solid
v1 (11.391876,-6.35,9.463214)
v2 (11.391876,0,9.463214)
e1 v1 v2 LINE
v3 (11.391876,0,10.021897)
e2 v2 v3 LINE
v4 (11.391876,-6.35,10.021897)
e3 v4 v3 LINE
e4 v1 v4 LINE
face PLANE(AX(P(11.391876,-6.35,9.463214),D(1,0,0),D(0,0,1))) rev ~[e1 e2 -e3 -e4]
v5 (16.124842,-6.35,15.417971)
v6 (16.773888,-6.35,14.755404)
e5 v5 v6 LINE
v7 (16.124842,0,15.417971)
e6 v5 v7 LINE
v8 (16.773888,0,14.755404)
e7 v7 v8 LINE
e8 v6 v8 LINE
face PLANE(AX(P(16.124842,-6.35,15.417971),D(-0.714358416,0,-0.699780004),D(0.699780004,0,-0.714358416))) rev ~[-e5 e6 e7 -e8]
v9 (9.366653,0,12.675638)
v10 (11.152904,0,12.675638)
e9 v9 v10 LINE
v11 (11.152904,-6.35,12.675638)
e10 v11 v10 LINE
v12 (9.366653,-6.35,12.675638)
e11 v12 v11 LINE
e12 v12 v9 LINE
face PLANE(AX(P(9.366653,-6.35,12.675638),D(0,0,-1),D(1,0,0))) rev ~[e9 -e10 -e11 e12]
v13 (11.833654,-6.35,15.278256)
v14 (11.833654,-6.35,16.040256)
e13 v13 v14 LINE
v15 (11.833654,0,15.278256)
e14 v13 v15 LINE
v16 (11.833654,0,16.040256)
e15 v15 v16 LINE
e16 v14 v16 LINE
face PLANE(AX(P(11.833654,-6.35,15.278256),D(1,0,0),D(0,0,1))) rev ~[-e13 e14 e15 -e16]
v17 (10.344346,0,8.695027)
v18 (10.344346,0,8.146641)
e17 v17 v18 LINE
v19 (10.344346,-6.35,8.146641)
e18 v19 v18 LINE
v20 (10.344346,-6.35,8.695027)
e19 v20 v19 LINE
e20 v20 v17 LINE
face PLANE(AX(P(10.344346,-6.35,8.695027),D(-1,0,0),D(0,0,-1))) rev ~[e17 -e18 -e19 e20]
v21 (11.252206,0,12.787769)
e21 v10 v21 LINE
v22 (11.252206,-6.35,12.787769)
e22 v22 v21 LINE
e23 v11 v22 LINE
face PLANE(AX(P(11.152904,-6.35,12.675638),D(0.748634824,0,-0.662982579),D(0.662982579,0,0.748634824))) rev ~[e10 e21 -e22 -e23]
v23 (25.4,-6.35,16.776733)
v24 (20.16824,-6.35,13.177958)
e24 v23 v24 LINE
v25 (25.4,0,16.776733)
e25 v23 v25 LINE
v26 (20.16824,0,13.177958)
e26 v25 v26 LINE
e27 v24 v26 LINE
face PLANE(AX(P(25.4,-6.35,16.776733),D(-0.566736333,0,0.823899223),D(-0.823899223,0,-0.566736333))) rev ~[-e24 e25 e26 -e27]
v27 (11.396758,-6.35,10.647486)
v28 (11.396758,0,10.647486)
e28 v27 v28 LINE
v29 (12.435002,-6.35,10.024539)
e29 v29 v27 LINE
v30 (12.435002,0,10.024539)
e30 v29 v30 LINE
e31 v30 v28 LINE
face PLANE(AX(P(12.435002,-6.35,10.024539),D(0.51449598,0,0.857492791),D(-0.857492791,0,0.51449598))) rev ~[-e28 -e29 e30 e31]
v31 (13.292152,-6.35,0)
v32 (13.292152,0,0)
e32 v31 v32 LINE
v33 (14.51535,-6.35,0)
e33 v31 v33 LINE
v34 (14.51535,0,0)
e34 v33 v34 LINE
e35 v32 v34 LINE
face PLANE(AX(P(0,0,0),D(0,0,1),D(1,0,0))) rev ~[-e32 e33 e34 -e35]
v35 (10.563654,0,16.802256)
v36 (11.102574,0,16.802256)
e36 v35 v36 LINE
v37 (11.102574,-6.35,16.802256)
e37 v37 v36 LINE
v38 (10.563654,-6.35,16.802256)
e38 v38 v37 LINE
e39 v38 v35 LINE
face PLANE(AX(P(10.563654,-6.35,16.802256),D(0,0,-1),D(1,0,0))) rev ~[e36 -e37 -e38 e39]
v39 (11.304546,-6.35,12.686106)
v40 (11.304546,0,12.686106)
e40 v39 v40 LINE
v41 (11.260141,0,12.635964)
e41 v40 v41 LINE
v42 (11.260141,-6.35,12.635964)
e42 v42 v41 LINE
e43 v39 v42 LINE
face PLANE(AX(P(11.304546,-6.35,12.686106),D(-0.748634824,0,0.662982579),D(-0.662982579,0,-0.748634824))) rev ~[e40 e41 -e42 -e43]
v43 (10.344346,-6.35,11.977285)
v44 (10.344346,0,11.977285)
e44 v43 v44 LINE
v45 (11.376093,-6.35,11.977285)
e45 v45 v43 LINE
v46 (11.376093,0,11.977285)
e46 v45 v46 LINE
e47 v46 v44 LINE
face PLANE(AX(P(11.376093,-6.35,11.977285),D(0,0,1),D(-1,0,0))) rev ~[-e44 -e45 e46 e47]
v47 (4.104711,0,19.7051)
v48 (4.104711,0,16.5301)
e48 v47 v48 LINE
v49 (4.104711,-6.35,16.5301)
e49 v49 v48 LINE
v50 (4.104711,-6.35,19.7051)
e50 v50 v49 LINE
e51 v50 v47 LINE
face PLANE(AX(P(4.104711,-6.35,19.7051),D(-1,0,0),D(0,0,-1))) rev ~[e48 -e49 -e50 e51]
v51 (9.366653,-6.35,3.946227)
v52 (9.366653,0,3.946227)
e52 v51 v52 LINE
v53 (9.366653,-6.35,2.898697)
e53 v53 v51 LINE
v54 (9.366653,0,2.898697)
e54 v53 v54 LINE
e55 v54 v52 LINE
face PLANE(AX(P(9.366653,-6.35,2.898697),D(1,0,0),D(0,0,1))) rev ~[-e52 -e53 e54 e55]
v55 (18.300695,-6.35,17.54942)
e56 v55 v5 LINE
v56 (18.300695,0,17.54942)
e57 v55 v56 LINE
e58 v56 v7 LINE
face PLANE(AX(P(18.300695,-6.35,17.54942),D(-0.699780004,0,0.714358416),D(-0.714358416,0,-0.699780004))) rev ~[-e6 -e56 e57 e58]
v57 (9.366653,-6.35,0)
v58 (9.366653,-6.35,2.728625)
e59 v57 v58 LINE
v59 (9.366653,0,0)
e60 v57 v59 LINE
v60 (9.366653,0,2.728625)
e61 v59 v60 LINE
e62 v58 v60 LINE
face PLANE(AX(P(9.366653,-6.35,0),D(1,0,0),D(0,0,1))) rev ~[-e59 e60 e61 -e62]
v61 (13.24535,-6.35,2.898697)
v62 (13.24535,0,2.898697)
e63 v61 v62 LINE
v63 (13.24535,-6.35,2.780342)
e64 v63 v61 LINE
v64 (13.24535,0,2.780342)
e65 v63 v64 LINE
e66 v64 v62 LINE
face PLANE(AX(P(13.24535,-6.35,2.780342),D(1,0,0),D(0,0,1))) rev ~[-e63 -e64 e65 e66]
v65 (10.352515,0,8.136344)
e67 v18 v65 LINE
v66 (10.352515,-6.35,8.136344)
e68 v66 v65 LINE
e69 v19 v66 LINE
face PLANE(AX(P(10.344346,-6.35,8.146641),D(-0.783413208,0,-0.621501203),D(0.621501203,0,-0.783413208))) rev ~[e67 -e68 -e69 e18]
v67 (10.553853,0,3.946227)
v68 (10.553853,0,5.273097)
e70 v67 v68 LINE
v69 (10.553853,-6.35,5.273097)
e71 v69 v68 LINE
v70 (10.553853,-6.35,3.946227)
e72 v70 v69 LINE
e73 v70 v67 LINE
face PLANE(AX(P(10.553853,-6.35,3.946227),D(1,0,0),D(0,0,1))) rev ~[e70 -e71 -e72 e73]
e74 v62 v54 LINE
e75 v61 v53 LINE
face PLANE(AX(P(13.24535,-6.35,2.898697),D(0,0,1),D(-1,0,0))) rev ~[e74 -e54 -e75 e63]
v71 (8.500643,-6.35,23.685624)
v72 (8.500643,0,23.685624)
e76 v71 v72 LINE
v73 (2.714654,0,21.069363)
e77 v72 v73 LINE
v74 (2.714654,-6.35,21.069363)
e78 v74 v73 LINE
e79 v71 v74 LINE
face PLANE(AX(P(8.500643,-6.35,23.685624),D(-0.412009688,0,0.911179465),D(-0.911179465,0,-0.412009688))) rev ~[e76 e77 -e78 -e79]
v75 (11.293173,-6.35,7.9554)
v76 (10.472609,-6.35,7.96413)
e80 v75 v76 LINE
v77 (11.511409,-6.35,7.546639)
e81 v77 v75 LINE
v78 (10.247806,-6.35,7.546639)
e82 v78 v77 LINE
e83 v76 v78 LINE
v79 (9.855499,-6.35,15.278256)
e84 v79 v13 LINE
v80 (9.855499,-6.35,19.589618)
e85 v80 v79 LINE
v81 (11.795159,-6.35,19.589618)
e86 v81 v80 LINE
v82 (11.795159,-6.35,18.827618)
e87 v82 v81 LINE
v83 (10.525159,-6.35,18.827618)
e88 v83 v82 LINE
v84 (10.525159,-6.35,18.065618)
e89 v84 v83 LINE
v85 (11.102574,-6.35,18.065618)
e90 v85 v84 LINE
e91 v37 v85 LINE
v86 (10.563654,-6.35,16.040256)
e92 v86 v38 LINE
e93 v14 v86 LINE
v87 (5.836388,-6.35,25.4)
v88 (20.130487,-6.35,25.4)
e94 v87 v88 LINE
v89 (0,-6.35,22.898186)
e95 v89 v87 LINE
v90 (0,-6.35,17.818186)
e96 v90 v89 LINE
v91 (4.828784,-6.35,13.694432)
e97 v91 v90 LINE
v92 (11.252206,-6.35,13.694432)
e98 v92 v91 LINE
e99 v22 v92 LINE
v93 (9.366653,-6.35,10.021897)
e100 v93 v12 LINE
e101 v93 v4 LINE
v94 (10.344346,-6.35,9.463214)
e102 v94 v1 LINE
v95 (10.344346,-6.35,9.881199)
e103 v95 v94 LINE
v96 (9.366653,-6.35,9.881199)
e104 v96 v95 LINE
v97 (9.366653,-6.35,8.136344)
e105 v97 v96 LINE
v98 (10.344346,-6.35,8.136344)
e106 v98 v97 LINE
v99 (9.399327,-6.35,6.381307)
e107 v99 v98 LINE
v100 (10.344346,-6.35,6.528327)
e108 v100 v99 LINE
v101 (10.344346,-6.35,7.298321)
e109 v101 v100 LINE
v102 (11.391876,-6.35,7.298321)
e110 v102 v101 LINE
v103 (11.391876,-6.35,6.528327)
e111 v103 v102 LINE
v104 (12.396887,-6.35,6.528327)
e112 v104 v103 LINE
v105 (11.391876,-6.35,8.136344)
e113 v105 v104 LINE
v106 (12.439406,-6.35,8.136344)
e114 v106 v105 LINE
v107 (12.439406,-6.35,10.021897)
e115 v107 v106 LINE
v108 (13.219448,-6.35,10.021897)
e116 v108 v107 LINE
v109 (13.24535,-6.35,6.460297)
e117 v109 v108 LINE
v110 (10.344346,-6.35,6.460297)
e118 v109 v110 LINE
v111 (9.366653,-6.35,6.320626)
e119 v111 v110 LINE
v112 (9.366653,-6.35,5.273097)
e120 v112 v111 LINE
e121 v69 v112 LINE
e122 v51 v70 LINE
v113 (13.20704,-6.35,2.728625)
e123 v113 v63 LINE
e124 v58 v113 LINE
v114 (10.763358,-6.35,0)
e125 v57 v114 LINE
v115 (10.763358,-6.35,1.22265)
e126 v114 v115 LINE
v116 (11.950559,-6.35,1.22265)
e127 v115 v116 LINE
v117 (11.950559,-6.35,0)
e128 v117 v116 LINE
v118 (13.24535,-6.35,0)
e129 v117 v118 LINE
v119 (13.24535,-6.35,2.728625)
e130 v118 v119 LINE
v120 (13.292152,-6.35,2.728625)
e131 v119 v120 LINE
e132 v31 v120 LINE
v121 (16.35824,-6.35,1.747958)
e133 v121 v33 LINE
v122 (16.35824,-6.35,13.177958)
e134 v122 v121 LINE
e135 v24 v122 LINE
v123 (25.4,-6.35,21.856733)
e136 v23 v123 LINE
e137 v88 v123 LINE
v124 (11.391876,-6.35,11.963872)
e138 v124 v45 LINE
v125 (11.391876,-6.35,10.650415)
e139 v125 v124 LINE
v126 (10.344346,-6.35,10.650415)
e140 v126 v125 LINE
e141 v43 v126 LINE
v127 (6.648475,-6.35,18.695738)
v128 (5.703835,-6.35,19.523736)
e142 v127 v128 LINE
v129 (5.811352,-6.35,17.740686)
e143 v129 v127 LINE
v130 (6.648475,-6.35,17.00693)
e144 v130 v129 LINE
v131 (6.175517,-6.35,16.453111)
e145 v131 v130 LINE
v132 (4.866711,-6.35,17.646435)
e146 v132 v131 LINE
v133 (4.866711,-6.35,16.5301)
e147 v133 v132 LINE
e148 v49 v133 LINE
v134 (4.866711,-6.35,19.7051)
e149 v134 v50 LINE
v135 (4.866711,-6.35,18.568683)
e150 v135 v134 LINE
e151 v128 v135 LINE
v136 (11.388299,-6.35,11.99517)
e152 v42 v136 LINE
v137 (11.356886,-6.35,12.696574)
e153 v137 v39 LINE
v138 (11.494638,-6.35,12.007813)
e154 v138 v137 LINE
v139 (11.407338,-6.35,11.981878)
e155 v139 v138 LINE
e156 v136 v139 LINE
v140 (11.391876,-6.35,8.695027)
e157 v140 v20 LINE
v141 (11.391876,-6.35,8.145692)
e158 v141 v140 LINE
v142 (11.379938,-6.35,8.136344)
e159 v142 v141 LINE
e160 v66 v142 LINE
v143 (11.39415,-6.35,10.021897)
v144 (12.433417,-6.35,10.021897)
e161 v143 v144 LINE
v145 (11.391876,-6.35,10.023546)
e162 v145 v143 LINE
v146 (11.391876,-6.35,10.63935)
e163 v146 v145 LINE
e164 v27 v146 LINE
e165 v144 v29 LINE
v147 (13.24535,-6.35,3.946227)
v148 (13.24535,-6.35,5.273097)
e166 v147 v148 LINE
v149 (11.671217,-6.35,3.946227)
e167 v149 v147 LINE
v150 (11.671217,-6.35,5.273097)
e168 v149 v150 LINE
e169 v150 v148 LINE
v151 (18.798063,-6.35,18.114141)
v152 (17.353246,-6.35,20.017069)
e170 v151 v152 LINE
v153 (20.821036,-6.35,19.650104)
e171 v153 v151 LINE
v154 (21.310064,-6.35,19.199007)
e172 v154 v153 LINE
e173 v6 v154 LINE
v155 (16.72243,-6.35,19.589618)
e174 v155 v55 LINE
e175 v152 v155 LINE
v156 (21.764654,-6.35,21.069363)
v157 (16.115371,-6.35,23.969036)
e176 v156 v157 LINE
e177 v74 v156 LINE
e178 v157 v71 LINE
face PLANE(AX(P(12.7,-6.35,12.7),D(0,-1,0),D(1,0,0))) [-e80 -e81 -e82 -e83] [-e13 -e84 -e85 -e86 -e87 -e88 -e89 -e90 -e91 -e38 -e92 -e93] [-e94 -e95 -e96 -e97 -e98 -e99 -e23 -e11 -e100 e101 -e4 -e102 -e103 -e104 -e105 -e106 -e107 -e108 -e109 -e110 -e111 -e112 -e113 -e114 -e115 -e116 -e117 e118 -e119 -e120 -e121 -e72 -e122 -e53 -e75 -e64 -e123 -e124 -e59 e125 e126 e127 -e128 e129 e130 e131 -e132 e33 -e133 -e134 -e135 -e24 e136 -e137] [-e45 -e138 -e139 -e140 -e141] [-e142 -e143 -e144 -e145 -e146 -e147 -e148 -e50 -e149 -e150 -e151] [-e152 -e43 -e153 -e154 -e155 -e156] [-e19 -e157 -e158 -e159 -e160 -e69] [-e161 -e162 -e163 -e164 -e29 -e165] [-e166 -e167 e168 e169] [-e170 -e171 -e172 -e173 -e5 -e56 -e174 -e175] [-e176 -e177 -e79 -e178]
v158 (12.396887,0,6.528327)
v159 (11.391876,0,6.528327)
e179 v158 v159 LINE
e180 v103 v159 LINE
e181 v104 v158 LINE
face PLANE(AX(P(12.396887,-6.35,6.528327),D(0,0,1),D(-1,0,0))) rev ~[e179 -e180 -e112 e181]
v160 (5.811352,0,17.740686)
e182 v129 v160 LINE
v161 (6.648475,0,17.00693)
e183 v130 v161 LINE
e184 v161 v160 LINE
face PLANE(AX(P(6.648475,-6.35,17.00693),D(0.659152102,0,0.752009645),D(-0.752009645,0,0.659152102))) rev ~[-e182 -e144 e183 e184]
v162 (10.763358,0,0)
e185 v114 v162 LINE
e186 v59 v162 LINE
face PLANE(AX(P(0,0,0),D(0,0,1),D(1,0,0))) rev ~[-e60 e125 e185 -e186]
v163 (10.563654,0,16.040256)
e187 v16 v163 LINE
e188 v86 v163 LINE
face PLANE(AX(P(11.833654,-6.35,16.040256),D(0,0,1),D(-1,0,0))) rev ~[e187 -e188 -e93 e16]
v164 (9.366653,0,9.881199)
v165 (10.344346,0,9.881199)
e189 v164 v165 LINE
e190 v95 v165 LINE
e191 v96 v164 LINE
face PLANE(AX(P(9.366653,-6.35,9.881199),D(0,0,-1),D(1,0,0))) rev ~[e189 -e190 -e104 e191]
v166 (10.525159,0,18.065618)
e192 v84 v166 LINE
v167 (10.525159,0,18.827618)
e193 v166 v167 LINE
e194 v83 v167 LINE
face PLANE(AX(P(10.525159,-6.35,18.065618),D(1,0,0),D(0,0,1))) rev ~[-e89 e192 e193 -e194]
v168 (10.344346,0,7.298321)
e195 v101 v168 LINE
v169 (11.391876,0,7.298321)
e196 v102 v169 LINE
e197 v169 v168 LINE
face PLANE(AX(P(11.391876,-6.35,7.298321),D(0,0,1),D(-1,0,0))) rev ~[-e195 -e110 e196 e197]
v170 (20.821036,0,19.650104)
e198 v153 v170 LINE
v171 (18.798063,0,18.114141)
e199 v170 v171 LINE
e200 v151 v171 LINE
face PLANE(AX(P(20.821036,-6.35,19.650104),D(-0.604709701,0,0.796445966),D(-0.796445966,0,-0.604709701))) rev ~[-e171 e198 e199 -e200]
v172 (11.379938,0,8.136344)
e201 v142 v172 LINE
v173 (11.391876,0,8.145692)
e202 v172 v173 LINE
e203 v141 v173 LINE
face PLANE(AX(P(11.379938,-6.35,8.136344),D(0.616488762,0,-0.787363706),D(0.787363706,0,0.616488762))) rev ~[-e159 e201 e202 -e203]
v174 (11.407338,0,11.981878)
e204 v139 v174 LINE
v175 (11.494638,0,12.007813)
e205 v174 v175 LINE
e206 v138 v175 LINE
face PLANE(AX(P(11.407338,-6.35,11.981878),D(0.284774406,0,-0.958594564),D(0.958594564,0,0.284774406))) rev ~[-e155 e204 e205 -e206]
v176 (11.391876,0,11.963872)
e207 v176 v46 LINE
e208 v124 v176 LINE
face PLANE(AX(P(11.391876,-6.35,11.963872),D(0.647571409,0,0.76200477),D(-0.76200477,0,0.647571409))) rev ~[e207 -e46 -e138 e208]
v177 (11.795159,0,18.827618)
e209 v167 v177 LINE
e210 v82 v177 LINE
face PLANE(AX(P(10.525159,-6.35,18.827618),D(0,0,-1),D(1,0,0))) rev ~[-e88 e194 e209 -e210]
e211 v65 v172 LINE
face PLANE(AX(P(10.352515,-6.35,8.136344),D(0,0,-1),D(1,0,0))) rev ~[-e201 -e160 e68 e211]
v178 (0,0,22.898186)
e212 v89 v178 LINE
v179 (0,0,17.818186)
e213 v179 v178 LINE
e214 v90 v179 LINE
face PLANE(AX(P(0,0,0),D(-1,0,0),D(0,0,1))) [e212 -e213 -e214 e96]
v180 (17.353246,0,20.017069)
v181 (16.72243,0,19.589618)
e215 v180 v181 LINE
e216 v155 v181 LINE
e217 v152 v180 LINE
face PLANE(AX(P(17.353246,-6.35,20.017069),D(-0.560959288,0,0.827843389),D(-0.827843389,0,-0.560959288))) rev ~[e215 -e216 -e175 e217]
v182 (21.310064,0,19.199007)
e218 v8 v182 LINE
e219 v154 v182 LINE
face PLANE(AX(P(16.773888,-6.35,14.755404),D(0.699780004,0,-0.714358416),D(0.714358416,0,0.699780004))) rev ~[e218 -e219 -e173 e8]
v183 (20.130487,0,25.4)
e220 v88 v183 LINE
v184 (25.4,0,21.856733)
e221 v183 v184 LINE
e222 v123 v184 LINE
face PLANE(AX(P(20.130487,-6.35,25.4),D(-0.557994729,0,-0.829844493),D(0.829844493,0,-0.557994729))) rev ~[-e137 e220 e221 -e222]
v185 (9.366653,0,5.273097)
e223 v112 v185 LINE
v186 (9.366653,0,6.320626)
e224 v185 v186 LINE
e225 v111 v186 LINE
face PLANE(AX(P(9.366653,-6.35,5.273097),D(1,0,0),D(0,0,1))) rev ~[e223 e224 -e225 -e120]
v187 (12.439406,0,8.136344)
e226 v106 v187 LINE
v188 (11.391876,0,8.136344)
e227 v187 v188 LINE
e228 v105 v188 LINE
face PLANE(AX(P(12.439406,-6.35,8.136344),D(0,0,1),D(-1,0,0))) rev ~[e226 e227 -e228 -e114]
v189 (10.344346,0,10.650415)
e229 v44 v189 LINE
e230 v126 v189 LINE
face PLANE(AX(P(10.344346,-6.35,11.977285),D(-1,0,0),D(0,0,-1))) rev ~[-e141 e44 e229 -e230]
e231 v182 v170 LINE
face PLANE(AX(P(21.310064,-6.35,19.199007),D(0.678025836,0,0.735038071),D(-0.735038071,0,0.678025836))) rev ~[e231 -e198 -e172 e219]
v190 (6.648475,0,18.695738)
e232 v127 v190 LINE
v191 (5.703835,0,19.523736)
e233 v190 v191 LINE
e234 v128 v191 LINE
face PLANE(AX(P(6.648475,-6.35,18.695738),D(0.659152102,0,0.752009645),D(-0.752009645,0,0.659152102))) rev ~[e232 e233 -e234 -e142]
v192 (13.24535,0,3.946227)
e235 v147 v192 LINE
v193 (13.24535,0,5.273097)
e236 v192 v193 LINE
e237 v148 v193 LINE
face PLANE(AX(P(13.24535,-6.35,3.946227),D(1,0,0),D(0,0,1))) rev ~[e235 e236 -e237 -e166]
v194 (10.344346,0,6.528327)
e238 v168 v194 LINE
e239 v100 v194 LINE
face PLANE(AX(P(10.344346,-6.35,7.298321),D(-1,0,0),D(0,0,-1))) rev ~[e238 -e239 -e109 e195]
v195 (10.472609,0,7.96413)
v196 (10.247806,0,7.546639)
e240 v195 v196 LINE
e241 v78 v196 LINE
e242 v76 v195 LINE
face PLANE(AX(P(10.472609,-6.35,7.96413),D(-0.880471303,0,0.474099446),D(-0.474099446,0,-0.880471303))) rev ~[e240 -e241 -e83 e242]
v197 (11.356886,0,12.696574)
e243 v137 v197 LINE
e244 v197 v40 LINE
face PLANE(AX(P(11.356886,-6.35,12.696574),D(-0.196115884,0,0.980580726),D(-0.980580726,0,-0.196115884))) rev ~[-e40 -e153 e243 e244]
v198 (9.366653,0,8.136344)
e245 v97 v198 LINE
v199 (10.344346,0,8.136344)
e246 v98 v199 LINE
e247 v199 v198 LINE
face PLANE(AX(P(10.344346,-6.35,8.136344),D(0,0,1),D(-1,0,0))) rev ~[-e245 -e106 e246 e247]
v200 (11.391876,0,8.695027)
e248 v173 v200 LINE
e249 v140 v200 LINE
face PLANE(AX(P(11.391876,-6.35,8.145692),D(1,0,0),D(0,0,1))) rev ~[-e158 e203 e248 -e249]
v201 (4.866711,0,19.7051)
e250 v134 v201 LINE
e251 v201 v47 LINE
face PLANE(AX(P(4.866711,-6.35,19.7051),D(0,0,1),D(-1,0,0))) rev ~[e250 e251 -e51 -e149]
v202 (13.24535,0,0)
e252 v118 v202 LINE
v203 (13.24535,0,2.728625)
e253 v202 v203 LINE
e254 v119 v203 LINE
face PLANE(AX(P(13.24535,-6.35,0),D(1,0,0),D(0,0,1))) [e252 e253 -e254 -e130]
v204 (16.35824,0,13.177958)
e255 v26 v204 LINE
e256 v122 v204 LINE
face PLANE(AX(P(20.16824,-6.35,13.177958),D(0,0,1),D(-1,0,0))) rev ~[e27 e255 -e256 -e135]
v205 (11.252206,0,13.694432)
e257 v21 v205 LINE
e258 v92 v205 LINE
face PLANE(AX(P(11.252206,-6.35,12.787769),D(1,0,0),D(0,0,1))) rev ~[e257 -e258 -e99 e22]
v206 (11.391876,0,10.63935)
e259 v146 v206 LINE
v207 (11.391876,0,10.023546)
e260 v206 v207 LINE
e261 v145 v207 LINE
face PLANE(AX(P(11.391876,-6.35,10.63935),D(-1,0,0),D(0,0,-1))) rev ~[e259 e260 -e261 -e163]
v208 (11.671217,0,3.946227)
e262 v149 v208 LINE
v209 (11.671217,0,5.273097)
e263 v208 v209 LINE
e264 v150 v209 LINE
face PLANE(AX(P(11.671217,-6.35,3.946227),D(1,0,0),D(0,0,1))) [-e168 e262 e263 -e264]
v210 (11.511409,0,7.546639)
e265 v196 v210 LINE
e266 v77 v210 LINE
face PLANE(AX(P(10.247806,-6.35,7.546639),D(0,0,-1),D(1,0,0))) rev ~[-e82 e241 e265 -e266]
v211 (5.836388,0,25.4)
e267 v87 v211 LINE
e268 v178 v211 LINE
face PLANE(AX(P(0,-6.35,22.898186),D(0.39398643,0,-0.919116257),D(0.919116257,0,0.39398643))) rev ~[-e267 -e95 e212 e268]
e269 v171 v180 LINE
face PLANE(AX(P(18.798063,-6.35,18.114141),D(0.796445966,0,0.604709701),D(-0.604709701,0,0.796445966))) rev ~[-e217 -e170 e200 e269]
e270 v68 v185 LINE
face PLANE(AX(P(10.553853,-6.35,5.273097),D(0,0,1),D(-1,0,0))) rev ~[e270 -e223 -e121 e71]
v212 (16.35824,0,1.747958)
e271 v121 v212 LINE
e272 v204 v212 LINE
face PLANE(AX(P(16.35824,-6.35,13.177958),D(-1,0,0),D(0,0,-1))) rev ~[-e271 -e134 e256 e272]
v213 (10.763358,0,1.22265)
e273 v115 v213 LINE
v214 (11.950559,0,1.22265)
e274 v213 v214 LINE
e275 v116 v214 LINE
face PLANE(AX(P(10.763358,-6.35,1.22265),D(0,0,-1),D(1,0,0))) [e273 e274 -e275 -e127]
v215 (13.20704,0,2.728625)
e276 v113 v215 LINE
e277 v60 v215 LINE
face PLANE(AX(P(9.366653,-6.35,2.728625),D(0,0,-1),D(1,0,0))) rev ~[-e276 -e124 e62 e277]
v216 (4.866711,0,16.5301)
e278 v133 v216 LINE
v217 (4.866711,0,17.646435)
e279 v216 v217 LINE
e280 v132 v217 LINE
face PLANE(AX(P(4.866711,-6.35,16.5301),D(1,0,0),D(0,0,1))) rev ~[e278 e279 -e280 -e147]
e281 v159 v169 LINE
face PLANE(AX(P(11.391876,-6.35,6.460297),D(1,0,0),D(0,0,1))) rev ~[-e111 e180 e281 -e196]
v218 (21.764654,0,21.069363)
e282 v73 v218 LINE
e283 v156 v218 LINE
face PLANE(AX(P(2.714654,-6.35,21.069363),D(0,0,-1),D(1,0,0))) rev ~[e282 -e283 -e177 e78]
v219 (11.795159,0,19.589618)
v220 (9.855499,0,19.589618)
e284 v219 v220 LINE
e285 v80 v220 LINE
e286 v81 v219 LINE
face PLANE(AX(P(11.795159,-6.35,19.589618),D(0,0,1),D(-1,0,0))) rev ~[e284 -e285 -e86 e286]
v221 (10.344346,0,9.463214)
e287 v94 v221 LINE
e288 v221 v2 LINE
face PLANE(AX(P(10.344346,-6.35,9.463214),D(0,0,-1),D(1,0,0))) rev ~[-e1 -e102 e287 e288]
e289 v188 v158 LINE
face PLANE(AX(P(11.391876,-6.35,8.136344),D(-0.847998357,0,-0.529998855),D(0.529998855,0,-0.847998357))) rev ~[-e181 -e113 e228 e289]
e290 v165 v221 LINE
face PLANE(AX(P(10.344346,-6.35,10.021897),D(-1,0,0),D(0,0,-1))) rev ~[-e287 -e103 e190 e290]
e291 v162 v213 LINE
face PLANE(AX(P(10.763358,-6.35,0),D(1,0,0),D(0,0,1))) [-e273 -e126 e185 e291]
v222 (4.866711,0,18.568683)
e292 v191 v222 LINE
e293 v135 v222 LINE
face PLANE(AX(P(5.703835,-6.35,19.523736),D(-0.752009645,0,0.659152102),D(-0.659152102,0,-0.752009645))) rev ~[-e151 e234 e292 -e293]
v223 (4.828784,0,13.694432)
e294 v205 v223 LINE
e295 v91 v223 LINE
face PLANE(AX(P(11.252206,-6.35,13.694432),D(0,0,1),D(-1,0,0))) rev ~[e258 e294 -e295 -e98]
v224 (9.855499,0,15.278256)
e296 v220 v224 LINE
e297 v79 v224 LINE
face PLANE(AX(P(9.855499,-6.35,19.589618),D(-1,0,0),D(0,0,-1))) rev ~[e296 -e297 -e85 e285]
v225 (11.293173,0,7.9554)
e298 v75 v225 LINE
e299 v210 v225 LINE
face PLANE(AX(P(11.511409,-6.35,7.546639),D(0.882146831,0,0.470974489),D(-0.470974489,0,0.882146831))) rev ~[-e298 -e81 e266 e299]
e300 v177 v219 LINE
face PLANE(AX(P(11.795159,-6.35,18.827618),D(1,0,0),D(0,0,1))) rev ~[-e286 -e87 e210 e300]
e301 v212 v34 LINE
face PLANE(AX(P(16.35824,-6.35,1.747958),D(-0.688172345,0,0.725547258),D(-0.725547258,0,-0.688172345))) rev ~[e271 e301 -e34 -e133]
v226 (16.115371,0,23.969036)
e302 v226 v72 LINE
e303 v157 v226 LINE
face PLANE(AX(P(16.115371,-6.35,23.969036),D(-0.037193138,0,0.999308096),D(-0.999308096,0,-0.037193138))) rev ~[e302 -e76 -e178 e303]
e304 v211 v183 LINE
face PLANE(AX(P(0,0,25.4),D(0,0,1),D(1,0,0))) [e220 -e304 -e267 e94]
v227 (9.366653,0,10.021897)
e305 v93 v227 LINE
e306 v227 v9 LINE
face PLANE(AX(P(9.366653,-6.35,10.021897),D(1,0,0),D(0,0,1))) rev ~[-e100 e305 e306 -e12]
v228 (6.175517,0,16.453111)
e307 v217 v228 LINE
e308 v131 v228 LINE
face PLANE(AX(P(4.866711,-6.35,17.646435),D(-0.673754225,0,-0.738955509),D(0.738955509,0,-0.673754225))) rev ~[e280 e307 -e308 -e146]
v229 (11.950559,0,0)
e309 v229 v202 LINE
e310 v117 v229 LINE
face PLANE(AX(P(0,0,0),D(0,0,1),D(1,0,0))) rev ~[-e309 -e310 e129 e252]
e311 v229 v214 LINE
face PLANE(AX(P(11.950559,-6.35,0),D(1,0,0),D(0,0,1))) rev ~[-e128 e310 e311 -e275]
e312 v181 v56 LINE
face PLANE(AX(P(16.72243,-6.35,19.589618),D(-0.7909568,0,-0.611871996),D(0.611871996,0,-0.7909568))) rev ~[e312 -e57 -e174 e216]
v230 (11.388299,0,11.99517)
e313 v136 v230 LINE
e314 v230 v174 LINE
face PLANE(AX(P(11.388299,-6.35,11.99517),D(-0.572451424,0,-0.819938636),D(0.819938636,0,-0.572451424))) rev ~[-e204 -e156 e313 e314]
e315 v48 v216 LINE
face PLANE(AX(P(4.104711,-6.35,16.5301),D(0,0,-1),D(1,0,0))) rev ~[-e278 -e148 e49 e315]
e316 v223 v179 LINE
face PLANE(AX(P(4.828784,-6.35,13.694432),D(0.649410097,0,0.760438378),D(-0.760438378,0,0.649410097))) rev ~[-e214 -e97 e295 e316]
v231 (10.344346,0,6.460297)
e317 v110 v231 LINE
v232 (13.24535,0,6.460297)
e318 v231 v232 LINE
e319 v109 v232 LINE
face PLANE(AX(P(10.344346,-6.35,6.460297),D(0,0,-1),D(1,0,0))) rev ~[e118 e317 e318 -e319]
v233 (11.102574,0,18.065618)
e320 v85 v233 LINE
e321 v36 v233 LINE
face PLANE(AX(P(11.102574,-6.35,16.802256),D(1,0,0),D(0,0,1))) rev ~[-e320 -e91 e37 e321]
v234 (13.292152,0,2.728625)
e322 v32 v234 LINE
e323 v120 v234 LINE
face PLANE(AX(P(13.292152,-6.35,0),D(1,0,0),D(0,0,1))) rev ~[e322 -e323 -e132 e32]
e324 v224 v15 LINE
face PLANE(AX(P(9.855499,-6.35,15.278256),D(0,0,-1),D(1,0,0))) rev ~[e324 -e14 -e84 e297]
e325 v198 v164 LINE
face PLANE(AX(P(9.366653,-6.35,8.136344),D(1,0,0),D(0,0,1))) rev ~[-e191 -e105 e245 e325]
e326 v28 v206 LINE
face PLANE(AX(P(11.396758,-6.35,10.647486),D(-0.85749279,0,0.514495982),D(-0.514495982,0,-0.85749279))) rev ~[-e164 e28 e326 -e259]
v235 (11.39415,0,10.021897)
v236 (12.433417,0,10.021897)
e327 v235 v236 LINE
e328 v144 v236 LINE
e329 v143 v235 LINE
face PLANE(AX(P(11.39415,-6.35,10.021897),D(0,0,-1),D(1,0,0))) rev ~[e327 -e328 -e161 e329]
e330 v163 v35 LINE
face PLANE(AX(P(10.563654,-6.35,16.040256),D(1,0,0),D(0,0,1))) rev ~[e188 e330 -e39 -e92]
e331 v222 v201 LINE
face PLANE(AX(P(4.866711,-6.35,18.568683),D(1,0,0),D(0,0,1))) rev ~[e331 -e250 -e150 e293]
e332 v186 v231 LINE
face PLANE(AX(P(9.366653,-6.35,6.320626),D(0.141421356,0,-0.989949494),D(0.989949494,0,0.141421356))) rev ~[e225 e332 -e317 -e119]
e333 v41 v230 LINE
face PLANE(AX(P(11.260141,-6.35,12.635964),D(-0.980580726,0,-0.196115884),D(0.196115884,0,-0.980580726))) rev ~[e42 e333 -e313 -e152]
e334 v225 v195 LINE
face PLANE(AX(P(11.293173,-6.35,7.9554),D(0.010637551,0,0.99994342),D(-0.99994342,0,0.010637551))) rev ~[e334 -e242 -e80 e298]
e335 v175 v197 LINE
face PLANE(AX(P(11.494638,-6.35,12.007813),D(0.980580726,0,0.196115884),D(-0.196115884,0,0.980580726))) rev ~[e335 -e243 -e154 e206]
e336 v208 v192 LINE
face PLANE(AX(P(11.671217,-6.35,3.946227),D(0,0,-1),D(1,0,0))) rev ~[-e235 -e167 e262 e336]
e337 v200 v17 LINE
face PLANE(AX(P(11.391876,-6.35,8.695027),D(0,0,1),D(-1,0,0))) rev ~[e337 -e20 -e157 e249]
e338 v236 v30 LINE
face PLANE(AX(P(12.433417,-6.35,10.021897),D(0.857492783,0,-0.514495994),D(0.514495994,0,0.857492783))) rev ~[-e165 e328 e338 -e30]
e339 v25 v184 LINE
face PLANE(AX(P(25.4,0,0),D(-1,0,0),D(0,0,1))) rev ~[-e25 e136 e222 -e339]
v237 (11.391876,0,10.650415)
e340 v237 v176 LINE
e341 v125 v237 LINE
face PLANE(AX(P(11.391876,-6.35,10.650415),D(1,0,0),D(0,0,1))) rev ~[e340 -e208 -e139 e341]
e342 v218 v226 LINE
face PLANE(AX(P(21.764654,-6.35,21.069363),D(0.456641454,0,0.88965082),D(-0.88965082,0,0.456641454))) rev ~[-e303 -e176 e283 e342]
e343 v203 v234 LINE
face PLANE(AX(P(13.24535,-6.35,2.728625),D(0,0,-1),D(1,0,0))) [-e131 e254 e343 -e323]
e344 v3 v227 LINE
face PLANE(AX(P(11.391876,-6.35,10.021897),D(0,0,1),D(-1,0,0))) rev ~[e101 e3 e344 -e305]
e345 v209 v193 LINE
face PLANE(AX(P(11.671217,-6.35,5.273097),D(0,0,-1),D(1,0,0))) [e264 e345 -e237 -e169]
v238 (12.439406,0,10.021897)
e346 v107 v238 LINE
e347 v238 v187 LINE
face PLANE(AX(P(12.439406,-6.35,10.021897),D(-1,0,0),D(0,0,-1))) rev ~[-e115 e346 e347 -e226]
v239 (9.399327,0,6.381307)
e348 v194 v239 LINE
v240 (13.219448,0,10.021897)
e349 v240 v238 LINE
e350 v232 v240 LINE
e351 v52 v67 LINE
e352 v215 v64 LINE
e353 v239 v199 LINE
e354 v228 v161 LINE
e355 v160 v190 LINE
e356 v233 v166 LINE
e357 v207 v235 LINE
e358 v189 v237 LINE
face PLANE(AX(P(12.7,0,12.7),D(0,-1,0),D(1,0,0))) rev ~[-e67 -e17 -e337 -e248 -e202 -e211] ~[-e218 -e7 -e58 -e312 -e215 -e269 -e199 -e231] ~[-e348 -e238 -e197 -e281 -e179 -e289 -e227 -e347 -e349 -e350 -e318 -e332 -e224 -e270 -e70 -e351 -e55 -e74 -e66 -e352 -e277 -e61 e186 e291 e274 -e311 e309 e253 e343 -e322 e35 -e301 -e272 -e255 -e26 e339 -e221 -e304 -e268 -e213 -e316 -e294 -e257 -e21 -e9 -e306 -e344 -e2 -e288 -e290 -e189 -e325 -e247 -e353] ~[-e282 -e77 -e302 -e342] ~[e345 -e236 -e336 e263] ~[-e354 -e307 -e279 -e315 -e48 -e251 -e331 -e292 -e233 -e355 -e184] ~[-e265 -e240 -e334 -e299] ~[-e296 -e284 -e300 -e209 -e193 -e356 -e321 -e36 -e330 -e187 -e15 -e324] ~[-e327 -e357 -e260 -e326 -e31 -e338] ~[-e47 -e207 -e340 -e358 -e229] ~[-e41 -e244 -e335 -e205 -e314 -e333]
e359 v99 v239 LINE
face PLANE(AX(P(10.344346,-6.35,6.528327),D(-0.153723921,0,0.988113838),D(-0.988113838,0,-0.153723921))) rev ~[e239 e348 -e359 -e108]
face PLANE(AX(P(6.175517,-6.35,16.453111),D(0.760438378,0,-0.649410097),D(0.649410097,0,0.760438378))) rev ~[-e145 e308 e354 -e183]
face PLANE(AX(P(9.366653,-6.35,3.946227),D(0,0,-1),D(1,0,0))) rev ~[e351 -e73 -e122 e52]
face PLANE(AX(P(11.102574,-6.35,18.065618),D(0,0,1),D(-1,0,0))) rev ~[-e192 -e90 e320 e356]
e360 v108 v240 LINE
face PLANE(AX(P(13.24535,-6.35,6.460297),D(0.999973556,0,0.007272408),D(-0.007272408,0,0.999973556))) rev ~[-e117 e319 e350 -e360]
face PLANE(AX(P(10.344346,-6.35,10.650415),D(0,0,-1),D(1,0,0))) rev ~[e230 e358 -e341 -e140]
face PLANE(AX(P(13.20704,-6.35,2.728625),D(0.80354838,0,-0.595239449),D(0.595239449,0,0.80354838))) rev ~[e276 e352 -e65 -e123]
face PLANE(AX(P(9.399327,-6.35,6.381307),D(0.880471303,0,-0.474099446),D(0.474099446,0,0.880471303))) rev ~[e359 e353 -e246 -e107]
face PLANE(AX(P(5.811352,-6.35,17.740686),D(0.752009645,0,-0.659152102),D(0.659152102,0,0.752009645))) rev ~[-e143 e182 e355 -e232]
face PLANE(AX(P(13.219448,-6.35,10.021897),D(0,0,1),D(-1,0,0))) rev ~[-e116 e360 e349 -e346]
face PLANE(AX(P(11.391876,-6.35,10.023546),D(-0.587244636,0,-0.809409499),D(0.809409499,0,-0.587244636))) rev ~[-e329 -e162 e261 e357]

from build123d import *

# Parameters (mm, degrees)
F0_W      = 25.4
F0_H      = 25.4
F1_DEPTH  = 6.35
F3_DEPTH  = 25.4
F4_DEPTH  = 25.4
F2_W      = 1.5741327426
F2_H      = 1.3268706389
F2_W_2    = 1.187200658
F2_H_2    = 1.2226499384
F5_DEPTH  = 25.4
F6_DEPTH  = 25.4
F7_DEPTH  = 25.4
F8_DEPTH  = 25.4
F9_DEPTH  = 25.4
F10_DEPTH = 25.4
F2_W_3    = 0.0468016022
F2_H_3    = 2.728624735
F11_DEPTH = 25.4


with BuildPart() as f1:
    # F0 (on Front) → F1 (new body)
    with BuildSketch(Plane.XZ):
        with Locations((12.7, 12.7)):
            Rectangle(F0_W, F0_H)
    extrude(amount=F1_DEPTH)

    # F2 (on face) → F3 (cut)
    with BuildSketch(Plane.XZ.offset(6.35)):
        Polygon((11.3045458782, 12.6861063085), (11.2601406232, 12.6359642364), (11.3882992748, 11.9951701235), (11.4073375334, 11.9818783017), (11.4946379989, 12.0078130807), (11.3568859374, 12.6965743064), align=None)
    extrude(amount=-F3_DEPTH, mode=Mode.SUBTRACT)

    # F2 (on face) → F4 (cut)
    with BuildSketch(Plane.XZ.offset(6.35)):
        Polygon((4.8667113453, 19.705099985), (4.1047113453, 19.705099985), (4.1047113453, 16.530099985), (4.8667113453, 16.530099985), (4.8667113453, 17.646435377), (6.1755171202, 16.4531112731), (6.6484752777, 17.0069300941), (5.8113521077, 17.7406859724), (6.6484752777, 18.6957382214), (5.7038345153, 19.5237355067), (4.8667113453, 18.5686832578), align=None)
        Polygon((17.3532462063, 20.0170688259), (16.7224295437, 19.5896178484), (18.3006953448, 17.5494197756), (16.1248423702, 15.4179709552), (16.7738881073, 14.7554037454), (21.310064048, 19.1990067695), (20.8210359426, 19.650104071), (18.7980631883, 18.1141414298), align=None)
        Polygon((9.8554994911, 19.5896178484), (9.8554994911, 17.7037799731), (9.8554994911, 15.278255567), (11.8336537853, 15.278255567), (11.8336537853, 16.040255567), (10.5636537853, 16.040255567), (10.5636537853, 16.802255567), (11.1025738376, 16.802255567), (11.1025738376, 18.0656178484), (10.5251594293, 18.0656178484), (10.5251594293, 18.8276178484), (11.7951594293, 18.8276178484), (11.7951594293, 19.5896178484), align=None)
    extrude(amount=-F4_DEPTH, mode=Mode.SUBTRACT)

    # F2 (on face) → F5 (cut)
    with BuildSketch(Plane.XZ.offset(6.35)):
        Polygon((11.3918762654, 11.963872239), (11.3760931417, 11.9772851467), (10.3443460539, 11.9772851467), (10.3443460539, 10.6504149735), (11.3918762654, 10.6504149735), align=None)
        Polygon((10.3443460539, 6.4602969214), (11.3918762654, 6.4602969214), (11.3918762654, 6.5283267759), (11.3918762654, 7.2983205318), (10.3443460539, 7.2983205318), (10.3443460539, 6.5283267759), align=None)
        with Locations((12.4582835298, 4.6096618753)):
            Rectangle(F2_W, F2_H)
        with Locations((11.3569586538, 0.6113249692)):
            Rectangle(F2_W_2, F2_H_2)
        Polygon((11.3918762654, 10.0218970329), (10.3443460539, 10.0218970329), (10.3443460539, 9.8811993375), (10.3443460539, 9.4632143155), (11.3918762654, 9.4632143155), align=None)
    extrude(amount=-F5_DEPTH, mode=Mode.SUBTRACT)

    # F2 (on face) → F6 (cut)
    with BuildSketch(Plane.XZ.offset(6.35)):
        Polygon((12.4394055456, 6.4602969214), (13.2453499011, 6.4602969214), (12.4394055456, 8.1363441423), (11.3918762654, 8.1363441423), (12.396886896, 6.5283267759), align=None)
        Polygon((12.4394055456, 8.1363441423), (13.2453499011, 6.4602969214), (13.2194478065, 10.0218970329), (12.4394055456, 10.0218970329), align=None)
    extrude(amount=-F6_DEPTH, mode=Mode.SUBTRACT)

    # F2 (on face) → F7 (cut)
    with BuildSketch(Plane.XZ.offset(6.35)):
        Polygon((10.3443460539, 8.6950268596), (10.3443460539, 8.1466408446), (10.3525146842, 8.1363441423), (11.3799376413, 8.1363441423), (11.3918762654, 8.1456918269), (11.3918762654, 8.6950268596), align=None)
        Polygon((11.3918762654, 10.63934993), (11.3918762654, 10.0235464051), (11.3941496238, 10.0218970329), (12.4334173265, 10.0218970329), (12.4350024447, 10.0245388949), (11.3967579036, 10.6474859888), align=None)
    extrude(amount=-F7_DEPTH, mode=Mode.SUBTRACT)

    # F2 (on face) → F8 (cut)
    with BuildSketch(Plane.XZ.offset(6.35)):
        Polygon((0, 22.8981861721), (5.8363882299, 25.4), (0, 25.4), align=None)
        Polygon((25.4, 25.4), (20.1304874707, 25.4), (25.4, 21.8567334698), align=None)
        Polygon((4.8287836991, 13.6944320588), (0, 17.8181861721), (0, 0), (9.3666529283, 0), (9.3666529283, 2.728624735), (13.2070397958, 2.728624735), (13.2453499011, 2.7803417761), (13.2453499011, 2.8986970428), (9.3666529283, 2.8986970428), (9.3666529283, 3.9462265559), (10.553852655, 3.9462265559), (10.553852655, 5.2730971947), (9.3666529283, 5.2730971947), (9.3666529283, 6.3206264749), (9.3993271689, 6.3813072698), (10.3443460539, 8.1363441423), (9.3666529283, 8.1363441423), (9.3666529283, 9.8811993375), (10.3443460539, 9.8811993375), (10.3443460539, 10.0218970329), (9.3666529283, 10.0218970329), (9.3666529283, 12.6756383106), (11.1529044807, 12.6756383106), (11.2522058189, 12.7877686173), (11.2522058189, 13.6944320588), align=None)
        Polygon((16.1153711372, 23.9690360215), (8.5006434467, 23.6856243072), (2.7146538465, 21.0693627863), (21.7646538465, 21.0693627863), align=None)
        Polygon((25.4, 0), (25.4, 16.7767334698), (20.1682399362, 13.1779577565), (16.3582399362, 13.1779577565), (16.3582399362, 1.7479577565), (14.5153499011, 0), align=None)
    extrude(amount=-F8_DEPTH, mode=Mode.SUBTRACT)

    # F2 (on face) → F9 (cut)
    with BuildSketch(Plane.XZ.offset(6.35)):
        Polygon((10.3443460539, 6.5283267759), (9.3993271689, 6.3813072698), (9.3666529283, 6.3206264749), (10.3443460539, 6.4602969214), align=None)
        Polygon((11.3918762654, 6.4602969214), (12.4394055456, 6.4602969214), (12.396886896, 6.5283267759), (11.3918762654, 6.5283267759), align=None)
    extrude(amount=-F9_DEPTH, mode=Mode.SUBTRACT)

    # F2 (on face) → F10 (cut)
    with BuildSketch(Plane.XZ.offset(6.35)):
        Polygon((11.2931728363, 7.9554002732), (10.4726087302, 7.9641295597), (10.2478063918, 7.5466390744), (11.5114087239, 7.5466390744), align=None)
    extrude(amount=-F10_DEPTH, mode=Mode.SUBTRACT)

    # F2 (on face) → F11 (cut)
    with BuildSketch(Plane.XZ.offset(6.35)):
        with Locations((13.2687507022, 1.3643123675)):
            Rectangle(F2_W_3, F2_H_3)
    extrude(amount=-F11_DEPTH, mode=Mode.SUBTRACT)


solid = f1.part
